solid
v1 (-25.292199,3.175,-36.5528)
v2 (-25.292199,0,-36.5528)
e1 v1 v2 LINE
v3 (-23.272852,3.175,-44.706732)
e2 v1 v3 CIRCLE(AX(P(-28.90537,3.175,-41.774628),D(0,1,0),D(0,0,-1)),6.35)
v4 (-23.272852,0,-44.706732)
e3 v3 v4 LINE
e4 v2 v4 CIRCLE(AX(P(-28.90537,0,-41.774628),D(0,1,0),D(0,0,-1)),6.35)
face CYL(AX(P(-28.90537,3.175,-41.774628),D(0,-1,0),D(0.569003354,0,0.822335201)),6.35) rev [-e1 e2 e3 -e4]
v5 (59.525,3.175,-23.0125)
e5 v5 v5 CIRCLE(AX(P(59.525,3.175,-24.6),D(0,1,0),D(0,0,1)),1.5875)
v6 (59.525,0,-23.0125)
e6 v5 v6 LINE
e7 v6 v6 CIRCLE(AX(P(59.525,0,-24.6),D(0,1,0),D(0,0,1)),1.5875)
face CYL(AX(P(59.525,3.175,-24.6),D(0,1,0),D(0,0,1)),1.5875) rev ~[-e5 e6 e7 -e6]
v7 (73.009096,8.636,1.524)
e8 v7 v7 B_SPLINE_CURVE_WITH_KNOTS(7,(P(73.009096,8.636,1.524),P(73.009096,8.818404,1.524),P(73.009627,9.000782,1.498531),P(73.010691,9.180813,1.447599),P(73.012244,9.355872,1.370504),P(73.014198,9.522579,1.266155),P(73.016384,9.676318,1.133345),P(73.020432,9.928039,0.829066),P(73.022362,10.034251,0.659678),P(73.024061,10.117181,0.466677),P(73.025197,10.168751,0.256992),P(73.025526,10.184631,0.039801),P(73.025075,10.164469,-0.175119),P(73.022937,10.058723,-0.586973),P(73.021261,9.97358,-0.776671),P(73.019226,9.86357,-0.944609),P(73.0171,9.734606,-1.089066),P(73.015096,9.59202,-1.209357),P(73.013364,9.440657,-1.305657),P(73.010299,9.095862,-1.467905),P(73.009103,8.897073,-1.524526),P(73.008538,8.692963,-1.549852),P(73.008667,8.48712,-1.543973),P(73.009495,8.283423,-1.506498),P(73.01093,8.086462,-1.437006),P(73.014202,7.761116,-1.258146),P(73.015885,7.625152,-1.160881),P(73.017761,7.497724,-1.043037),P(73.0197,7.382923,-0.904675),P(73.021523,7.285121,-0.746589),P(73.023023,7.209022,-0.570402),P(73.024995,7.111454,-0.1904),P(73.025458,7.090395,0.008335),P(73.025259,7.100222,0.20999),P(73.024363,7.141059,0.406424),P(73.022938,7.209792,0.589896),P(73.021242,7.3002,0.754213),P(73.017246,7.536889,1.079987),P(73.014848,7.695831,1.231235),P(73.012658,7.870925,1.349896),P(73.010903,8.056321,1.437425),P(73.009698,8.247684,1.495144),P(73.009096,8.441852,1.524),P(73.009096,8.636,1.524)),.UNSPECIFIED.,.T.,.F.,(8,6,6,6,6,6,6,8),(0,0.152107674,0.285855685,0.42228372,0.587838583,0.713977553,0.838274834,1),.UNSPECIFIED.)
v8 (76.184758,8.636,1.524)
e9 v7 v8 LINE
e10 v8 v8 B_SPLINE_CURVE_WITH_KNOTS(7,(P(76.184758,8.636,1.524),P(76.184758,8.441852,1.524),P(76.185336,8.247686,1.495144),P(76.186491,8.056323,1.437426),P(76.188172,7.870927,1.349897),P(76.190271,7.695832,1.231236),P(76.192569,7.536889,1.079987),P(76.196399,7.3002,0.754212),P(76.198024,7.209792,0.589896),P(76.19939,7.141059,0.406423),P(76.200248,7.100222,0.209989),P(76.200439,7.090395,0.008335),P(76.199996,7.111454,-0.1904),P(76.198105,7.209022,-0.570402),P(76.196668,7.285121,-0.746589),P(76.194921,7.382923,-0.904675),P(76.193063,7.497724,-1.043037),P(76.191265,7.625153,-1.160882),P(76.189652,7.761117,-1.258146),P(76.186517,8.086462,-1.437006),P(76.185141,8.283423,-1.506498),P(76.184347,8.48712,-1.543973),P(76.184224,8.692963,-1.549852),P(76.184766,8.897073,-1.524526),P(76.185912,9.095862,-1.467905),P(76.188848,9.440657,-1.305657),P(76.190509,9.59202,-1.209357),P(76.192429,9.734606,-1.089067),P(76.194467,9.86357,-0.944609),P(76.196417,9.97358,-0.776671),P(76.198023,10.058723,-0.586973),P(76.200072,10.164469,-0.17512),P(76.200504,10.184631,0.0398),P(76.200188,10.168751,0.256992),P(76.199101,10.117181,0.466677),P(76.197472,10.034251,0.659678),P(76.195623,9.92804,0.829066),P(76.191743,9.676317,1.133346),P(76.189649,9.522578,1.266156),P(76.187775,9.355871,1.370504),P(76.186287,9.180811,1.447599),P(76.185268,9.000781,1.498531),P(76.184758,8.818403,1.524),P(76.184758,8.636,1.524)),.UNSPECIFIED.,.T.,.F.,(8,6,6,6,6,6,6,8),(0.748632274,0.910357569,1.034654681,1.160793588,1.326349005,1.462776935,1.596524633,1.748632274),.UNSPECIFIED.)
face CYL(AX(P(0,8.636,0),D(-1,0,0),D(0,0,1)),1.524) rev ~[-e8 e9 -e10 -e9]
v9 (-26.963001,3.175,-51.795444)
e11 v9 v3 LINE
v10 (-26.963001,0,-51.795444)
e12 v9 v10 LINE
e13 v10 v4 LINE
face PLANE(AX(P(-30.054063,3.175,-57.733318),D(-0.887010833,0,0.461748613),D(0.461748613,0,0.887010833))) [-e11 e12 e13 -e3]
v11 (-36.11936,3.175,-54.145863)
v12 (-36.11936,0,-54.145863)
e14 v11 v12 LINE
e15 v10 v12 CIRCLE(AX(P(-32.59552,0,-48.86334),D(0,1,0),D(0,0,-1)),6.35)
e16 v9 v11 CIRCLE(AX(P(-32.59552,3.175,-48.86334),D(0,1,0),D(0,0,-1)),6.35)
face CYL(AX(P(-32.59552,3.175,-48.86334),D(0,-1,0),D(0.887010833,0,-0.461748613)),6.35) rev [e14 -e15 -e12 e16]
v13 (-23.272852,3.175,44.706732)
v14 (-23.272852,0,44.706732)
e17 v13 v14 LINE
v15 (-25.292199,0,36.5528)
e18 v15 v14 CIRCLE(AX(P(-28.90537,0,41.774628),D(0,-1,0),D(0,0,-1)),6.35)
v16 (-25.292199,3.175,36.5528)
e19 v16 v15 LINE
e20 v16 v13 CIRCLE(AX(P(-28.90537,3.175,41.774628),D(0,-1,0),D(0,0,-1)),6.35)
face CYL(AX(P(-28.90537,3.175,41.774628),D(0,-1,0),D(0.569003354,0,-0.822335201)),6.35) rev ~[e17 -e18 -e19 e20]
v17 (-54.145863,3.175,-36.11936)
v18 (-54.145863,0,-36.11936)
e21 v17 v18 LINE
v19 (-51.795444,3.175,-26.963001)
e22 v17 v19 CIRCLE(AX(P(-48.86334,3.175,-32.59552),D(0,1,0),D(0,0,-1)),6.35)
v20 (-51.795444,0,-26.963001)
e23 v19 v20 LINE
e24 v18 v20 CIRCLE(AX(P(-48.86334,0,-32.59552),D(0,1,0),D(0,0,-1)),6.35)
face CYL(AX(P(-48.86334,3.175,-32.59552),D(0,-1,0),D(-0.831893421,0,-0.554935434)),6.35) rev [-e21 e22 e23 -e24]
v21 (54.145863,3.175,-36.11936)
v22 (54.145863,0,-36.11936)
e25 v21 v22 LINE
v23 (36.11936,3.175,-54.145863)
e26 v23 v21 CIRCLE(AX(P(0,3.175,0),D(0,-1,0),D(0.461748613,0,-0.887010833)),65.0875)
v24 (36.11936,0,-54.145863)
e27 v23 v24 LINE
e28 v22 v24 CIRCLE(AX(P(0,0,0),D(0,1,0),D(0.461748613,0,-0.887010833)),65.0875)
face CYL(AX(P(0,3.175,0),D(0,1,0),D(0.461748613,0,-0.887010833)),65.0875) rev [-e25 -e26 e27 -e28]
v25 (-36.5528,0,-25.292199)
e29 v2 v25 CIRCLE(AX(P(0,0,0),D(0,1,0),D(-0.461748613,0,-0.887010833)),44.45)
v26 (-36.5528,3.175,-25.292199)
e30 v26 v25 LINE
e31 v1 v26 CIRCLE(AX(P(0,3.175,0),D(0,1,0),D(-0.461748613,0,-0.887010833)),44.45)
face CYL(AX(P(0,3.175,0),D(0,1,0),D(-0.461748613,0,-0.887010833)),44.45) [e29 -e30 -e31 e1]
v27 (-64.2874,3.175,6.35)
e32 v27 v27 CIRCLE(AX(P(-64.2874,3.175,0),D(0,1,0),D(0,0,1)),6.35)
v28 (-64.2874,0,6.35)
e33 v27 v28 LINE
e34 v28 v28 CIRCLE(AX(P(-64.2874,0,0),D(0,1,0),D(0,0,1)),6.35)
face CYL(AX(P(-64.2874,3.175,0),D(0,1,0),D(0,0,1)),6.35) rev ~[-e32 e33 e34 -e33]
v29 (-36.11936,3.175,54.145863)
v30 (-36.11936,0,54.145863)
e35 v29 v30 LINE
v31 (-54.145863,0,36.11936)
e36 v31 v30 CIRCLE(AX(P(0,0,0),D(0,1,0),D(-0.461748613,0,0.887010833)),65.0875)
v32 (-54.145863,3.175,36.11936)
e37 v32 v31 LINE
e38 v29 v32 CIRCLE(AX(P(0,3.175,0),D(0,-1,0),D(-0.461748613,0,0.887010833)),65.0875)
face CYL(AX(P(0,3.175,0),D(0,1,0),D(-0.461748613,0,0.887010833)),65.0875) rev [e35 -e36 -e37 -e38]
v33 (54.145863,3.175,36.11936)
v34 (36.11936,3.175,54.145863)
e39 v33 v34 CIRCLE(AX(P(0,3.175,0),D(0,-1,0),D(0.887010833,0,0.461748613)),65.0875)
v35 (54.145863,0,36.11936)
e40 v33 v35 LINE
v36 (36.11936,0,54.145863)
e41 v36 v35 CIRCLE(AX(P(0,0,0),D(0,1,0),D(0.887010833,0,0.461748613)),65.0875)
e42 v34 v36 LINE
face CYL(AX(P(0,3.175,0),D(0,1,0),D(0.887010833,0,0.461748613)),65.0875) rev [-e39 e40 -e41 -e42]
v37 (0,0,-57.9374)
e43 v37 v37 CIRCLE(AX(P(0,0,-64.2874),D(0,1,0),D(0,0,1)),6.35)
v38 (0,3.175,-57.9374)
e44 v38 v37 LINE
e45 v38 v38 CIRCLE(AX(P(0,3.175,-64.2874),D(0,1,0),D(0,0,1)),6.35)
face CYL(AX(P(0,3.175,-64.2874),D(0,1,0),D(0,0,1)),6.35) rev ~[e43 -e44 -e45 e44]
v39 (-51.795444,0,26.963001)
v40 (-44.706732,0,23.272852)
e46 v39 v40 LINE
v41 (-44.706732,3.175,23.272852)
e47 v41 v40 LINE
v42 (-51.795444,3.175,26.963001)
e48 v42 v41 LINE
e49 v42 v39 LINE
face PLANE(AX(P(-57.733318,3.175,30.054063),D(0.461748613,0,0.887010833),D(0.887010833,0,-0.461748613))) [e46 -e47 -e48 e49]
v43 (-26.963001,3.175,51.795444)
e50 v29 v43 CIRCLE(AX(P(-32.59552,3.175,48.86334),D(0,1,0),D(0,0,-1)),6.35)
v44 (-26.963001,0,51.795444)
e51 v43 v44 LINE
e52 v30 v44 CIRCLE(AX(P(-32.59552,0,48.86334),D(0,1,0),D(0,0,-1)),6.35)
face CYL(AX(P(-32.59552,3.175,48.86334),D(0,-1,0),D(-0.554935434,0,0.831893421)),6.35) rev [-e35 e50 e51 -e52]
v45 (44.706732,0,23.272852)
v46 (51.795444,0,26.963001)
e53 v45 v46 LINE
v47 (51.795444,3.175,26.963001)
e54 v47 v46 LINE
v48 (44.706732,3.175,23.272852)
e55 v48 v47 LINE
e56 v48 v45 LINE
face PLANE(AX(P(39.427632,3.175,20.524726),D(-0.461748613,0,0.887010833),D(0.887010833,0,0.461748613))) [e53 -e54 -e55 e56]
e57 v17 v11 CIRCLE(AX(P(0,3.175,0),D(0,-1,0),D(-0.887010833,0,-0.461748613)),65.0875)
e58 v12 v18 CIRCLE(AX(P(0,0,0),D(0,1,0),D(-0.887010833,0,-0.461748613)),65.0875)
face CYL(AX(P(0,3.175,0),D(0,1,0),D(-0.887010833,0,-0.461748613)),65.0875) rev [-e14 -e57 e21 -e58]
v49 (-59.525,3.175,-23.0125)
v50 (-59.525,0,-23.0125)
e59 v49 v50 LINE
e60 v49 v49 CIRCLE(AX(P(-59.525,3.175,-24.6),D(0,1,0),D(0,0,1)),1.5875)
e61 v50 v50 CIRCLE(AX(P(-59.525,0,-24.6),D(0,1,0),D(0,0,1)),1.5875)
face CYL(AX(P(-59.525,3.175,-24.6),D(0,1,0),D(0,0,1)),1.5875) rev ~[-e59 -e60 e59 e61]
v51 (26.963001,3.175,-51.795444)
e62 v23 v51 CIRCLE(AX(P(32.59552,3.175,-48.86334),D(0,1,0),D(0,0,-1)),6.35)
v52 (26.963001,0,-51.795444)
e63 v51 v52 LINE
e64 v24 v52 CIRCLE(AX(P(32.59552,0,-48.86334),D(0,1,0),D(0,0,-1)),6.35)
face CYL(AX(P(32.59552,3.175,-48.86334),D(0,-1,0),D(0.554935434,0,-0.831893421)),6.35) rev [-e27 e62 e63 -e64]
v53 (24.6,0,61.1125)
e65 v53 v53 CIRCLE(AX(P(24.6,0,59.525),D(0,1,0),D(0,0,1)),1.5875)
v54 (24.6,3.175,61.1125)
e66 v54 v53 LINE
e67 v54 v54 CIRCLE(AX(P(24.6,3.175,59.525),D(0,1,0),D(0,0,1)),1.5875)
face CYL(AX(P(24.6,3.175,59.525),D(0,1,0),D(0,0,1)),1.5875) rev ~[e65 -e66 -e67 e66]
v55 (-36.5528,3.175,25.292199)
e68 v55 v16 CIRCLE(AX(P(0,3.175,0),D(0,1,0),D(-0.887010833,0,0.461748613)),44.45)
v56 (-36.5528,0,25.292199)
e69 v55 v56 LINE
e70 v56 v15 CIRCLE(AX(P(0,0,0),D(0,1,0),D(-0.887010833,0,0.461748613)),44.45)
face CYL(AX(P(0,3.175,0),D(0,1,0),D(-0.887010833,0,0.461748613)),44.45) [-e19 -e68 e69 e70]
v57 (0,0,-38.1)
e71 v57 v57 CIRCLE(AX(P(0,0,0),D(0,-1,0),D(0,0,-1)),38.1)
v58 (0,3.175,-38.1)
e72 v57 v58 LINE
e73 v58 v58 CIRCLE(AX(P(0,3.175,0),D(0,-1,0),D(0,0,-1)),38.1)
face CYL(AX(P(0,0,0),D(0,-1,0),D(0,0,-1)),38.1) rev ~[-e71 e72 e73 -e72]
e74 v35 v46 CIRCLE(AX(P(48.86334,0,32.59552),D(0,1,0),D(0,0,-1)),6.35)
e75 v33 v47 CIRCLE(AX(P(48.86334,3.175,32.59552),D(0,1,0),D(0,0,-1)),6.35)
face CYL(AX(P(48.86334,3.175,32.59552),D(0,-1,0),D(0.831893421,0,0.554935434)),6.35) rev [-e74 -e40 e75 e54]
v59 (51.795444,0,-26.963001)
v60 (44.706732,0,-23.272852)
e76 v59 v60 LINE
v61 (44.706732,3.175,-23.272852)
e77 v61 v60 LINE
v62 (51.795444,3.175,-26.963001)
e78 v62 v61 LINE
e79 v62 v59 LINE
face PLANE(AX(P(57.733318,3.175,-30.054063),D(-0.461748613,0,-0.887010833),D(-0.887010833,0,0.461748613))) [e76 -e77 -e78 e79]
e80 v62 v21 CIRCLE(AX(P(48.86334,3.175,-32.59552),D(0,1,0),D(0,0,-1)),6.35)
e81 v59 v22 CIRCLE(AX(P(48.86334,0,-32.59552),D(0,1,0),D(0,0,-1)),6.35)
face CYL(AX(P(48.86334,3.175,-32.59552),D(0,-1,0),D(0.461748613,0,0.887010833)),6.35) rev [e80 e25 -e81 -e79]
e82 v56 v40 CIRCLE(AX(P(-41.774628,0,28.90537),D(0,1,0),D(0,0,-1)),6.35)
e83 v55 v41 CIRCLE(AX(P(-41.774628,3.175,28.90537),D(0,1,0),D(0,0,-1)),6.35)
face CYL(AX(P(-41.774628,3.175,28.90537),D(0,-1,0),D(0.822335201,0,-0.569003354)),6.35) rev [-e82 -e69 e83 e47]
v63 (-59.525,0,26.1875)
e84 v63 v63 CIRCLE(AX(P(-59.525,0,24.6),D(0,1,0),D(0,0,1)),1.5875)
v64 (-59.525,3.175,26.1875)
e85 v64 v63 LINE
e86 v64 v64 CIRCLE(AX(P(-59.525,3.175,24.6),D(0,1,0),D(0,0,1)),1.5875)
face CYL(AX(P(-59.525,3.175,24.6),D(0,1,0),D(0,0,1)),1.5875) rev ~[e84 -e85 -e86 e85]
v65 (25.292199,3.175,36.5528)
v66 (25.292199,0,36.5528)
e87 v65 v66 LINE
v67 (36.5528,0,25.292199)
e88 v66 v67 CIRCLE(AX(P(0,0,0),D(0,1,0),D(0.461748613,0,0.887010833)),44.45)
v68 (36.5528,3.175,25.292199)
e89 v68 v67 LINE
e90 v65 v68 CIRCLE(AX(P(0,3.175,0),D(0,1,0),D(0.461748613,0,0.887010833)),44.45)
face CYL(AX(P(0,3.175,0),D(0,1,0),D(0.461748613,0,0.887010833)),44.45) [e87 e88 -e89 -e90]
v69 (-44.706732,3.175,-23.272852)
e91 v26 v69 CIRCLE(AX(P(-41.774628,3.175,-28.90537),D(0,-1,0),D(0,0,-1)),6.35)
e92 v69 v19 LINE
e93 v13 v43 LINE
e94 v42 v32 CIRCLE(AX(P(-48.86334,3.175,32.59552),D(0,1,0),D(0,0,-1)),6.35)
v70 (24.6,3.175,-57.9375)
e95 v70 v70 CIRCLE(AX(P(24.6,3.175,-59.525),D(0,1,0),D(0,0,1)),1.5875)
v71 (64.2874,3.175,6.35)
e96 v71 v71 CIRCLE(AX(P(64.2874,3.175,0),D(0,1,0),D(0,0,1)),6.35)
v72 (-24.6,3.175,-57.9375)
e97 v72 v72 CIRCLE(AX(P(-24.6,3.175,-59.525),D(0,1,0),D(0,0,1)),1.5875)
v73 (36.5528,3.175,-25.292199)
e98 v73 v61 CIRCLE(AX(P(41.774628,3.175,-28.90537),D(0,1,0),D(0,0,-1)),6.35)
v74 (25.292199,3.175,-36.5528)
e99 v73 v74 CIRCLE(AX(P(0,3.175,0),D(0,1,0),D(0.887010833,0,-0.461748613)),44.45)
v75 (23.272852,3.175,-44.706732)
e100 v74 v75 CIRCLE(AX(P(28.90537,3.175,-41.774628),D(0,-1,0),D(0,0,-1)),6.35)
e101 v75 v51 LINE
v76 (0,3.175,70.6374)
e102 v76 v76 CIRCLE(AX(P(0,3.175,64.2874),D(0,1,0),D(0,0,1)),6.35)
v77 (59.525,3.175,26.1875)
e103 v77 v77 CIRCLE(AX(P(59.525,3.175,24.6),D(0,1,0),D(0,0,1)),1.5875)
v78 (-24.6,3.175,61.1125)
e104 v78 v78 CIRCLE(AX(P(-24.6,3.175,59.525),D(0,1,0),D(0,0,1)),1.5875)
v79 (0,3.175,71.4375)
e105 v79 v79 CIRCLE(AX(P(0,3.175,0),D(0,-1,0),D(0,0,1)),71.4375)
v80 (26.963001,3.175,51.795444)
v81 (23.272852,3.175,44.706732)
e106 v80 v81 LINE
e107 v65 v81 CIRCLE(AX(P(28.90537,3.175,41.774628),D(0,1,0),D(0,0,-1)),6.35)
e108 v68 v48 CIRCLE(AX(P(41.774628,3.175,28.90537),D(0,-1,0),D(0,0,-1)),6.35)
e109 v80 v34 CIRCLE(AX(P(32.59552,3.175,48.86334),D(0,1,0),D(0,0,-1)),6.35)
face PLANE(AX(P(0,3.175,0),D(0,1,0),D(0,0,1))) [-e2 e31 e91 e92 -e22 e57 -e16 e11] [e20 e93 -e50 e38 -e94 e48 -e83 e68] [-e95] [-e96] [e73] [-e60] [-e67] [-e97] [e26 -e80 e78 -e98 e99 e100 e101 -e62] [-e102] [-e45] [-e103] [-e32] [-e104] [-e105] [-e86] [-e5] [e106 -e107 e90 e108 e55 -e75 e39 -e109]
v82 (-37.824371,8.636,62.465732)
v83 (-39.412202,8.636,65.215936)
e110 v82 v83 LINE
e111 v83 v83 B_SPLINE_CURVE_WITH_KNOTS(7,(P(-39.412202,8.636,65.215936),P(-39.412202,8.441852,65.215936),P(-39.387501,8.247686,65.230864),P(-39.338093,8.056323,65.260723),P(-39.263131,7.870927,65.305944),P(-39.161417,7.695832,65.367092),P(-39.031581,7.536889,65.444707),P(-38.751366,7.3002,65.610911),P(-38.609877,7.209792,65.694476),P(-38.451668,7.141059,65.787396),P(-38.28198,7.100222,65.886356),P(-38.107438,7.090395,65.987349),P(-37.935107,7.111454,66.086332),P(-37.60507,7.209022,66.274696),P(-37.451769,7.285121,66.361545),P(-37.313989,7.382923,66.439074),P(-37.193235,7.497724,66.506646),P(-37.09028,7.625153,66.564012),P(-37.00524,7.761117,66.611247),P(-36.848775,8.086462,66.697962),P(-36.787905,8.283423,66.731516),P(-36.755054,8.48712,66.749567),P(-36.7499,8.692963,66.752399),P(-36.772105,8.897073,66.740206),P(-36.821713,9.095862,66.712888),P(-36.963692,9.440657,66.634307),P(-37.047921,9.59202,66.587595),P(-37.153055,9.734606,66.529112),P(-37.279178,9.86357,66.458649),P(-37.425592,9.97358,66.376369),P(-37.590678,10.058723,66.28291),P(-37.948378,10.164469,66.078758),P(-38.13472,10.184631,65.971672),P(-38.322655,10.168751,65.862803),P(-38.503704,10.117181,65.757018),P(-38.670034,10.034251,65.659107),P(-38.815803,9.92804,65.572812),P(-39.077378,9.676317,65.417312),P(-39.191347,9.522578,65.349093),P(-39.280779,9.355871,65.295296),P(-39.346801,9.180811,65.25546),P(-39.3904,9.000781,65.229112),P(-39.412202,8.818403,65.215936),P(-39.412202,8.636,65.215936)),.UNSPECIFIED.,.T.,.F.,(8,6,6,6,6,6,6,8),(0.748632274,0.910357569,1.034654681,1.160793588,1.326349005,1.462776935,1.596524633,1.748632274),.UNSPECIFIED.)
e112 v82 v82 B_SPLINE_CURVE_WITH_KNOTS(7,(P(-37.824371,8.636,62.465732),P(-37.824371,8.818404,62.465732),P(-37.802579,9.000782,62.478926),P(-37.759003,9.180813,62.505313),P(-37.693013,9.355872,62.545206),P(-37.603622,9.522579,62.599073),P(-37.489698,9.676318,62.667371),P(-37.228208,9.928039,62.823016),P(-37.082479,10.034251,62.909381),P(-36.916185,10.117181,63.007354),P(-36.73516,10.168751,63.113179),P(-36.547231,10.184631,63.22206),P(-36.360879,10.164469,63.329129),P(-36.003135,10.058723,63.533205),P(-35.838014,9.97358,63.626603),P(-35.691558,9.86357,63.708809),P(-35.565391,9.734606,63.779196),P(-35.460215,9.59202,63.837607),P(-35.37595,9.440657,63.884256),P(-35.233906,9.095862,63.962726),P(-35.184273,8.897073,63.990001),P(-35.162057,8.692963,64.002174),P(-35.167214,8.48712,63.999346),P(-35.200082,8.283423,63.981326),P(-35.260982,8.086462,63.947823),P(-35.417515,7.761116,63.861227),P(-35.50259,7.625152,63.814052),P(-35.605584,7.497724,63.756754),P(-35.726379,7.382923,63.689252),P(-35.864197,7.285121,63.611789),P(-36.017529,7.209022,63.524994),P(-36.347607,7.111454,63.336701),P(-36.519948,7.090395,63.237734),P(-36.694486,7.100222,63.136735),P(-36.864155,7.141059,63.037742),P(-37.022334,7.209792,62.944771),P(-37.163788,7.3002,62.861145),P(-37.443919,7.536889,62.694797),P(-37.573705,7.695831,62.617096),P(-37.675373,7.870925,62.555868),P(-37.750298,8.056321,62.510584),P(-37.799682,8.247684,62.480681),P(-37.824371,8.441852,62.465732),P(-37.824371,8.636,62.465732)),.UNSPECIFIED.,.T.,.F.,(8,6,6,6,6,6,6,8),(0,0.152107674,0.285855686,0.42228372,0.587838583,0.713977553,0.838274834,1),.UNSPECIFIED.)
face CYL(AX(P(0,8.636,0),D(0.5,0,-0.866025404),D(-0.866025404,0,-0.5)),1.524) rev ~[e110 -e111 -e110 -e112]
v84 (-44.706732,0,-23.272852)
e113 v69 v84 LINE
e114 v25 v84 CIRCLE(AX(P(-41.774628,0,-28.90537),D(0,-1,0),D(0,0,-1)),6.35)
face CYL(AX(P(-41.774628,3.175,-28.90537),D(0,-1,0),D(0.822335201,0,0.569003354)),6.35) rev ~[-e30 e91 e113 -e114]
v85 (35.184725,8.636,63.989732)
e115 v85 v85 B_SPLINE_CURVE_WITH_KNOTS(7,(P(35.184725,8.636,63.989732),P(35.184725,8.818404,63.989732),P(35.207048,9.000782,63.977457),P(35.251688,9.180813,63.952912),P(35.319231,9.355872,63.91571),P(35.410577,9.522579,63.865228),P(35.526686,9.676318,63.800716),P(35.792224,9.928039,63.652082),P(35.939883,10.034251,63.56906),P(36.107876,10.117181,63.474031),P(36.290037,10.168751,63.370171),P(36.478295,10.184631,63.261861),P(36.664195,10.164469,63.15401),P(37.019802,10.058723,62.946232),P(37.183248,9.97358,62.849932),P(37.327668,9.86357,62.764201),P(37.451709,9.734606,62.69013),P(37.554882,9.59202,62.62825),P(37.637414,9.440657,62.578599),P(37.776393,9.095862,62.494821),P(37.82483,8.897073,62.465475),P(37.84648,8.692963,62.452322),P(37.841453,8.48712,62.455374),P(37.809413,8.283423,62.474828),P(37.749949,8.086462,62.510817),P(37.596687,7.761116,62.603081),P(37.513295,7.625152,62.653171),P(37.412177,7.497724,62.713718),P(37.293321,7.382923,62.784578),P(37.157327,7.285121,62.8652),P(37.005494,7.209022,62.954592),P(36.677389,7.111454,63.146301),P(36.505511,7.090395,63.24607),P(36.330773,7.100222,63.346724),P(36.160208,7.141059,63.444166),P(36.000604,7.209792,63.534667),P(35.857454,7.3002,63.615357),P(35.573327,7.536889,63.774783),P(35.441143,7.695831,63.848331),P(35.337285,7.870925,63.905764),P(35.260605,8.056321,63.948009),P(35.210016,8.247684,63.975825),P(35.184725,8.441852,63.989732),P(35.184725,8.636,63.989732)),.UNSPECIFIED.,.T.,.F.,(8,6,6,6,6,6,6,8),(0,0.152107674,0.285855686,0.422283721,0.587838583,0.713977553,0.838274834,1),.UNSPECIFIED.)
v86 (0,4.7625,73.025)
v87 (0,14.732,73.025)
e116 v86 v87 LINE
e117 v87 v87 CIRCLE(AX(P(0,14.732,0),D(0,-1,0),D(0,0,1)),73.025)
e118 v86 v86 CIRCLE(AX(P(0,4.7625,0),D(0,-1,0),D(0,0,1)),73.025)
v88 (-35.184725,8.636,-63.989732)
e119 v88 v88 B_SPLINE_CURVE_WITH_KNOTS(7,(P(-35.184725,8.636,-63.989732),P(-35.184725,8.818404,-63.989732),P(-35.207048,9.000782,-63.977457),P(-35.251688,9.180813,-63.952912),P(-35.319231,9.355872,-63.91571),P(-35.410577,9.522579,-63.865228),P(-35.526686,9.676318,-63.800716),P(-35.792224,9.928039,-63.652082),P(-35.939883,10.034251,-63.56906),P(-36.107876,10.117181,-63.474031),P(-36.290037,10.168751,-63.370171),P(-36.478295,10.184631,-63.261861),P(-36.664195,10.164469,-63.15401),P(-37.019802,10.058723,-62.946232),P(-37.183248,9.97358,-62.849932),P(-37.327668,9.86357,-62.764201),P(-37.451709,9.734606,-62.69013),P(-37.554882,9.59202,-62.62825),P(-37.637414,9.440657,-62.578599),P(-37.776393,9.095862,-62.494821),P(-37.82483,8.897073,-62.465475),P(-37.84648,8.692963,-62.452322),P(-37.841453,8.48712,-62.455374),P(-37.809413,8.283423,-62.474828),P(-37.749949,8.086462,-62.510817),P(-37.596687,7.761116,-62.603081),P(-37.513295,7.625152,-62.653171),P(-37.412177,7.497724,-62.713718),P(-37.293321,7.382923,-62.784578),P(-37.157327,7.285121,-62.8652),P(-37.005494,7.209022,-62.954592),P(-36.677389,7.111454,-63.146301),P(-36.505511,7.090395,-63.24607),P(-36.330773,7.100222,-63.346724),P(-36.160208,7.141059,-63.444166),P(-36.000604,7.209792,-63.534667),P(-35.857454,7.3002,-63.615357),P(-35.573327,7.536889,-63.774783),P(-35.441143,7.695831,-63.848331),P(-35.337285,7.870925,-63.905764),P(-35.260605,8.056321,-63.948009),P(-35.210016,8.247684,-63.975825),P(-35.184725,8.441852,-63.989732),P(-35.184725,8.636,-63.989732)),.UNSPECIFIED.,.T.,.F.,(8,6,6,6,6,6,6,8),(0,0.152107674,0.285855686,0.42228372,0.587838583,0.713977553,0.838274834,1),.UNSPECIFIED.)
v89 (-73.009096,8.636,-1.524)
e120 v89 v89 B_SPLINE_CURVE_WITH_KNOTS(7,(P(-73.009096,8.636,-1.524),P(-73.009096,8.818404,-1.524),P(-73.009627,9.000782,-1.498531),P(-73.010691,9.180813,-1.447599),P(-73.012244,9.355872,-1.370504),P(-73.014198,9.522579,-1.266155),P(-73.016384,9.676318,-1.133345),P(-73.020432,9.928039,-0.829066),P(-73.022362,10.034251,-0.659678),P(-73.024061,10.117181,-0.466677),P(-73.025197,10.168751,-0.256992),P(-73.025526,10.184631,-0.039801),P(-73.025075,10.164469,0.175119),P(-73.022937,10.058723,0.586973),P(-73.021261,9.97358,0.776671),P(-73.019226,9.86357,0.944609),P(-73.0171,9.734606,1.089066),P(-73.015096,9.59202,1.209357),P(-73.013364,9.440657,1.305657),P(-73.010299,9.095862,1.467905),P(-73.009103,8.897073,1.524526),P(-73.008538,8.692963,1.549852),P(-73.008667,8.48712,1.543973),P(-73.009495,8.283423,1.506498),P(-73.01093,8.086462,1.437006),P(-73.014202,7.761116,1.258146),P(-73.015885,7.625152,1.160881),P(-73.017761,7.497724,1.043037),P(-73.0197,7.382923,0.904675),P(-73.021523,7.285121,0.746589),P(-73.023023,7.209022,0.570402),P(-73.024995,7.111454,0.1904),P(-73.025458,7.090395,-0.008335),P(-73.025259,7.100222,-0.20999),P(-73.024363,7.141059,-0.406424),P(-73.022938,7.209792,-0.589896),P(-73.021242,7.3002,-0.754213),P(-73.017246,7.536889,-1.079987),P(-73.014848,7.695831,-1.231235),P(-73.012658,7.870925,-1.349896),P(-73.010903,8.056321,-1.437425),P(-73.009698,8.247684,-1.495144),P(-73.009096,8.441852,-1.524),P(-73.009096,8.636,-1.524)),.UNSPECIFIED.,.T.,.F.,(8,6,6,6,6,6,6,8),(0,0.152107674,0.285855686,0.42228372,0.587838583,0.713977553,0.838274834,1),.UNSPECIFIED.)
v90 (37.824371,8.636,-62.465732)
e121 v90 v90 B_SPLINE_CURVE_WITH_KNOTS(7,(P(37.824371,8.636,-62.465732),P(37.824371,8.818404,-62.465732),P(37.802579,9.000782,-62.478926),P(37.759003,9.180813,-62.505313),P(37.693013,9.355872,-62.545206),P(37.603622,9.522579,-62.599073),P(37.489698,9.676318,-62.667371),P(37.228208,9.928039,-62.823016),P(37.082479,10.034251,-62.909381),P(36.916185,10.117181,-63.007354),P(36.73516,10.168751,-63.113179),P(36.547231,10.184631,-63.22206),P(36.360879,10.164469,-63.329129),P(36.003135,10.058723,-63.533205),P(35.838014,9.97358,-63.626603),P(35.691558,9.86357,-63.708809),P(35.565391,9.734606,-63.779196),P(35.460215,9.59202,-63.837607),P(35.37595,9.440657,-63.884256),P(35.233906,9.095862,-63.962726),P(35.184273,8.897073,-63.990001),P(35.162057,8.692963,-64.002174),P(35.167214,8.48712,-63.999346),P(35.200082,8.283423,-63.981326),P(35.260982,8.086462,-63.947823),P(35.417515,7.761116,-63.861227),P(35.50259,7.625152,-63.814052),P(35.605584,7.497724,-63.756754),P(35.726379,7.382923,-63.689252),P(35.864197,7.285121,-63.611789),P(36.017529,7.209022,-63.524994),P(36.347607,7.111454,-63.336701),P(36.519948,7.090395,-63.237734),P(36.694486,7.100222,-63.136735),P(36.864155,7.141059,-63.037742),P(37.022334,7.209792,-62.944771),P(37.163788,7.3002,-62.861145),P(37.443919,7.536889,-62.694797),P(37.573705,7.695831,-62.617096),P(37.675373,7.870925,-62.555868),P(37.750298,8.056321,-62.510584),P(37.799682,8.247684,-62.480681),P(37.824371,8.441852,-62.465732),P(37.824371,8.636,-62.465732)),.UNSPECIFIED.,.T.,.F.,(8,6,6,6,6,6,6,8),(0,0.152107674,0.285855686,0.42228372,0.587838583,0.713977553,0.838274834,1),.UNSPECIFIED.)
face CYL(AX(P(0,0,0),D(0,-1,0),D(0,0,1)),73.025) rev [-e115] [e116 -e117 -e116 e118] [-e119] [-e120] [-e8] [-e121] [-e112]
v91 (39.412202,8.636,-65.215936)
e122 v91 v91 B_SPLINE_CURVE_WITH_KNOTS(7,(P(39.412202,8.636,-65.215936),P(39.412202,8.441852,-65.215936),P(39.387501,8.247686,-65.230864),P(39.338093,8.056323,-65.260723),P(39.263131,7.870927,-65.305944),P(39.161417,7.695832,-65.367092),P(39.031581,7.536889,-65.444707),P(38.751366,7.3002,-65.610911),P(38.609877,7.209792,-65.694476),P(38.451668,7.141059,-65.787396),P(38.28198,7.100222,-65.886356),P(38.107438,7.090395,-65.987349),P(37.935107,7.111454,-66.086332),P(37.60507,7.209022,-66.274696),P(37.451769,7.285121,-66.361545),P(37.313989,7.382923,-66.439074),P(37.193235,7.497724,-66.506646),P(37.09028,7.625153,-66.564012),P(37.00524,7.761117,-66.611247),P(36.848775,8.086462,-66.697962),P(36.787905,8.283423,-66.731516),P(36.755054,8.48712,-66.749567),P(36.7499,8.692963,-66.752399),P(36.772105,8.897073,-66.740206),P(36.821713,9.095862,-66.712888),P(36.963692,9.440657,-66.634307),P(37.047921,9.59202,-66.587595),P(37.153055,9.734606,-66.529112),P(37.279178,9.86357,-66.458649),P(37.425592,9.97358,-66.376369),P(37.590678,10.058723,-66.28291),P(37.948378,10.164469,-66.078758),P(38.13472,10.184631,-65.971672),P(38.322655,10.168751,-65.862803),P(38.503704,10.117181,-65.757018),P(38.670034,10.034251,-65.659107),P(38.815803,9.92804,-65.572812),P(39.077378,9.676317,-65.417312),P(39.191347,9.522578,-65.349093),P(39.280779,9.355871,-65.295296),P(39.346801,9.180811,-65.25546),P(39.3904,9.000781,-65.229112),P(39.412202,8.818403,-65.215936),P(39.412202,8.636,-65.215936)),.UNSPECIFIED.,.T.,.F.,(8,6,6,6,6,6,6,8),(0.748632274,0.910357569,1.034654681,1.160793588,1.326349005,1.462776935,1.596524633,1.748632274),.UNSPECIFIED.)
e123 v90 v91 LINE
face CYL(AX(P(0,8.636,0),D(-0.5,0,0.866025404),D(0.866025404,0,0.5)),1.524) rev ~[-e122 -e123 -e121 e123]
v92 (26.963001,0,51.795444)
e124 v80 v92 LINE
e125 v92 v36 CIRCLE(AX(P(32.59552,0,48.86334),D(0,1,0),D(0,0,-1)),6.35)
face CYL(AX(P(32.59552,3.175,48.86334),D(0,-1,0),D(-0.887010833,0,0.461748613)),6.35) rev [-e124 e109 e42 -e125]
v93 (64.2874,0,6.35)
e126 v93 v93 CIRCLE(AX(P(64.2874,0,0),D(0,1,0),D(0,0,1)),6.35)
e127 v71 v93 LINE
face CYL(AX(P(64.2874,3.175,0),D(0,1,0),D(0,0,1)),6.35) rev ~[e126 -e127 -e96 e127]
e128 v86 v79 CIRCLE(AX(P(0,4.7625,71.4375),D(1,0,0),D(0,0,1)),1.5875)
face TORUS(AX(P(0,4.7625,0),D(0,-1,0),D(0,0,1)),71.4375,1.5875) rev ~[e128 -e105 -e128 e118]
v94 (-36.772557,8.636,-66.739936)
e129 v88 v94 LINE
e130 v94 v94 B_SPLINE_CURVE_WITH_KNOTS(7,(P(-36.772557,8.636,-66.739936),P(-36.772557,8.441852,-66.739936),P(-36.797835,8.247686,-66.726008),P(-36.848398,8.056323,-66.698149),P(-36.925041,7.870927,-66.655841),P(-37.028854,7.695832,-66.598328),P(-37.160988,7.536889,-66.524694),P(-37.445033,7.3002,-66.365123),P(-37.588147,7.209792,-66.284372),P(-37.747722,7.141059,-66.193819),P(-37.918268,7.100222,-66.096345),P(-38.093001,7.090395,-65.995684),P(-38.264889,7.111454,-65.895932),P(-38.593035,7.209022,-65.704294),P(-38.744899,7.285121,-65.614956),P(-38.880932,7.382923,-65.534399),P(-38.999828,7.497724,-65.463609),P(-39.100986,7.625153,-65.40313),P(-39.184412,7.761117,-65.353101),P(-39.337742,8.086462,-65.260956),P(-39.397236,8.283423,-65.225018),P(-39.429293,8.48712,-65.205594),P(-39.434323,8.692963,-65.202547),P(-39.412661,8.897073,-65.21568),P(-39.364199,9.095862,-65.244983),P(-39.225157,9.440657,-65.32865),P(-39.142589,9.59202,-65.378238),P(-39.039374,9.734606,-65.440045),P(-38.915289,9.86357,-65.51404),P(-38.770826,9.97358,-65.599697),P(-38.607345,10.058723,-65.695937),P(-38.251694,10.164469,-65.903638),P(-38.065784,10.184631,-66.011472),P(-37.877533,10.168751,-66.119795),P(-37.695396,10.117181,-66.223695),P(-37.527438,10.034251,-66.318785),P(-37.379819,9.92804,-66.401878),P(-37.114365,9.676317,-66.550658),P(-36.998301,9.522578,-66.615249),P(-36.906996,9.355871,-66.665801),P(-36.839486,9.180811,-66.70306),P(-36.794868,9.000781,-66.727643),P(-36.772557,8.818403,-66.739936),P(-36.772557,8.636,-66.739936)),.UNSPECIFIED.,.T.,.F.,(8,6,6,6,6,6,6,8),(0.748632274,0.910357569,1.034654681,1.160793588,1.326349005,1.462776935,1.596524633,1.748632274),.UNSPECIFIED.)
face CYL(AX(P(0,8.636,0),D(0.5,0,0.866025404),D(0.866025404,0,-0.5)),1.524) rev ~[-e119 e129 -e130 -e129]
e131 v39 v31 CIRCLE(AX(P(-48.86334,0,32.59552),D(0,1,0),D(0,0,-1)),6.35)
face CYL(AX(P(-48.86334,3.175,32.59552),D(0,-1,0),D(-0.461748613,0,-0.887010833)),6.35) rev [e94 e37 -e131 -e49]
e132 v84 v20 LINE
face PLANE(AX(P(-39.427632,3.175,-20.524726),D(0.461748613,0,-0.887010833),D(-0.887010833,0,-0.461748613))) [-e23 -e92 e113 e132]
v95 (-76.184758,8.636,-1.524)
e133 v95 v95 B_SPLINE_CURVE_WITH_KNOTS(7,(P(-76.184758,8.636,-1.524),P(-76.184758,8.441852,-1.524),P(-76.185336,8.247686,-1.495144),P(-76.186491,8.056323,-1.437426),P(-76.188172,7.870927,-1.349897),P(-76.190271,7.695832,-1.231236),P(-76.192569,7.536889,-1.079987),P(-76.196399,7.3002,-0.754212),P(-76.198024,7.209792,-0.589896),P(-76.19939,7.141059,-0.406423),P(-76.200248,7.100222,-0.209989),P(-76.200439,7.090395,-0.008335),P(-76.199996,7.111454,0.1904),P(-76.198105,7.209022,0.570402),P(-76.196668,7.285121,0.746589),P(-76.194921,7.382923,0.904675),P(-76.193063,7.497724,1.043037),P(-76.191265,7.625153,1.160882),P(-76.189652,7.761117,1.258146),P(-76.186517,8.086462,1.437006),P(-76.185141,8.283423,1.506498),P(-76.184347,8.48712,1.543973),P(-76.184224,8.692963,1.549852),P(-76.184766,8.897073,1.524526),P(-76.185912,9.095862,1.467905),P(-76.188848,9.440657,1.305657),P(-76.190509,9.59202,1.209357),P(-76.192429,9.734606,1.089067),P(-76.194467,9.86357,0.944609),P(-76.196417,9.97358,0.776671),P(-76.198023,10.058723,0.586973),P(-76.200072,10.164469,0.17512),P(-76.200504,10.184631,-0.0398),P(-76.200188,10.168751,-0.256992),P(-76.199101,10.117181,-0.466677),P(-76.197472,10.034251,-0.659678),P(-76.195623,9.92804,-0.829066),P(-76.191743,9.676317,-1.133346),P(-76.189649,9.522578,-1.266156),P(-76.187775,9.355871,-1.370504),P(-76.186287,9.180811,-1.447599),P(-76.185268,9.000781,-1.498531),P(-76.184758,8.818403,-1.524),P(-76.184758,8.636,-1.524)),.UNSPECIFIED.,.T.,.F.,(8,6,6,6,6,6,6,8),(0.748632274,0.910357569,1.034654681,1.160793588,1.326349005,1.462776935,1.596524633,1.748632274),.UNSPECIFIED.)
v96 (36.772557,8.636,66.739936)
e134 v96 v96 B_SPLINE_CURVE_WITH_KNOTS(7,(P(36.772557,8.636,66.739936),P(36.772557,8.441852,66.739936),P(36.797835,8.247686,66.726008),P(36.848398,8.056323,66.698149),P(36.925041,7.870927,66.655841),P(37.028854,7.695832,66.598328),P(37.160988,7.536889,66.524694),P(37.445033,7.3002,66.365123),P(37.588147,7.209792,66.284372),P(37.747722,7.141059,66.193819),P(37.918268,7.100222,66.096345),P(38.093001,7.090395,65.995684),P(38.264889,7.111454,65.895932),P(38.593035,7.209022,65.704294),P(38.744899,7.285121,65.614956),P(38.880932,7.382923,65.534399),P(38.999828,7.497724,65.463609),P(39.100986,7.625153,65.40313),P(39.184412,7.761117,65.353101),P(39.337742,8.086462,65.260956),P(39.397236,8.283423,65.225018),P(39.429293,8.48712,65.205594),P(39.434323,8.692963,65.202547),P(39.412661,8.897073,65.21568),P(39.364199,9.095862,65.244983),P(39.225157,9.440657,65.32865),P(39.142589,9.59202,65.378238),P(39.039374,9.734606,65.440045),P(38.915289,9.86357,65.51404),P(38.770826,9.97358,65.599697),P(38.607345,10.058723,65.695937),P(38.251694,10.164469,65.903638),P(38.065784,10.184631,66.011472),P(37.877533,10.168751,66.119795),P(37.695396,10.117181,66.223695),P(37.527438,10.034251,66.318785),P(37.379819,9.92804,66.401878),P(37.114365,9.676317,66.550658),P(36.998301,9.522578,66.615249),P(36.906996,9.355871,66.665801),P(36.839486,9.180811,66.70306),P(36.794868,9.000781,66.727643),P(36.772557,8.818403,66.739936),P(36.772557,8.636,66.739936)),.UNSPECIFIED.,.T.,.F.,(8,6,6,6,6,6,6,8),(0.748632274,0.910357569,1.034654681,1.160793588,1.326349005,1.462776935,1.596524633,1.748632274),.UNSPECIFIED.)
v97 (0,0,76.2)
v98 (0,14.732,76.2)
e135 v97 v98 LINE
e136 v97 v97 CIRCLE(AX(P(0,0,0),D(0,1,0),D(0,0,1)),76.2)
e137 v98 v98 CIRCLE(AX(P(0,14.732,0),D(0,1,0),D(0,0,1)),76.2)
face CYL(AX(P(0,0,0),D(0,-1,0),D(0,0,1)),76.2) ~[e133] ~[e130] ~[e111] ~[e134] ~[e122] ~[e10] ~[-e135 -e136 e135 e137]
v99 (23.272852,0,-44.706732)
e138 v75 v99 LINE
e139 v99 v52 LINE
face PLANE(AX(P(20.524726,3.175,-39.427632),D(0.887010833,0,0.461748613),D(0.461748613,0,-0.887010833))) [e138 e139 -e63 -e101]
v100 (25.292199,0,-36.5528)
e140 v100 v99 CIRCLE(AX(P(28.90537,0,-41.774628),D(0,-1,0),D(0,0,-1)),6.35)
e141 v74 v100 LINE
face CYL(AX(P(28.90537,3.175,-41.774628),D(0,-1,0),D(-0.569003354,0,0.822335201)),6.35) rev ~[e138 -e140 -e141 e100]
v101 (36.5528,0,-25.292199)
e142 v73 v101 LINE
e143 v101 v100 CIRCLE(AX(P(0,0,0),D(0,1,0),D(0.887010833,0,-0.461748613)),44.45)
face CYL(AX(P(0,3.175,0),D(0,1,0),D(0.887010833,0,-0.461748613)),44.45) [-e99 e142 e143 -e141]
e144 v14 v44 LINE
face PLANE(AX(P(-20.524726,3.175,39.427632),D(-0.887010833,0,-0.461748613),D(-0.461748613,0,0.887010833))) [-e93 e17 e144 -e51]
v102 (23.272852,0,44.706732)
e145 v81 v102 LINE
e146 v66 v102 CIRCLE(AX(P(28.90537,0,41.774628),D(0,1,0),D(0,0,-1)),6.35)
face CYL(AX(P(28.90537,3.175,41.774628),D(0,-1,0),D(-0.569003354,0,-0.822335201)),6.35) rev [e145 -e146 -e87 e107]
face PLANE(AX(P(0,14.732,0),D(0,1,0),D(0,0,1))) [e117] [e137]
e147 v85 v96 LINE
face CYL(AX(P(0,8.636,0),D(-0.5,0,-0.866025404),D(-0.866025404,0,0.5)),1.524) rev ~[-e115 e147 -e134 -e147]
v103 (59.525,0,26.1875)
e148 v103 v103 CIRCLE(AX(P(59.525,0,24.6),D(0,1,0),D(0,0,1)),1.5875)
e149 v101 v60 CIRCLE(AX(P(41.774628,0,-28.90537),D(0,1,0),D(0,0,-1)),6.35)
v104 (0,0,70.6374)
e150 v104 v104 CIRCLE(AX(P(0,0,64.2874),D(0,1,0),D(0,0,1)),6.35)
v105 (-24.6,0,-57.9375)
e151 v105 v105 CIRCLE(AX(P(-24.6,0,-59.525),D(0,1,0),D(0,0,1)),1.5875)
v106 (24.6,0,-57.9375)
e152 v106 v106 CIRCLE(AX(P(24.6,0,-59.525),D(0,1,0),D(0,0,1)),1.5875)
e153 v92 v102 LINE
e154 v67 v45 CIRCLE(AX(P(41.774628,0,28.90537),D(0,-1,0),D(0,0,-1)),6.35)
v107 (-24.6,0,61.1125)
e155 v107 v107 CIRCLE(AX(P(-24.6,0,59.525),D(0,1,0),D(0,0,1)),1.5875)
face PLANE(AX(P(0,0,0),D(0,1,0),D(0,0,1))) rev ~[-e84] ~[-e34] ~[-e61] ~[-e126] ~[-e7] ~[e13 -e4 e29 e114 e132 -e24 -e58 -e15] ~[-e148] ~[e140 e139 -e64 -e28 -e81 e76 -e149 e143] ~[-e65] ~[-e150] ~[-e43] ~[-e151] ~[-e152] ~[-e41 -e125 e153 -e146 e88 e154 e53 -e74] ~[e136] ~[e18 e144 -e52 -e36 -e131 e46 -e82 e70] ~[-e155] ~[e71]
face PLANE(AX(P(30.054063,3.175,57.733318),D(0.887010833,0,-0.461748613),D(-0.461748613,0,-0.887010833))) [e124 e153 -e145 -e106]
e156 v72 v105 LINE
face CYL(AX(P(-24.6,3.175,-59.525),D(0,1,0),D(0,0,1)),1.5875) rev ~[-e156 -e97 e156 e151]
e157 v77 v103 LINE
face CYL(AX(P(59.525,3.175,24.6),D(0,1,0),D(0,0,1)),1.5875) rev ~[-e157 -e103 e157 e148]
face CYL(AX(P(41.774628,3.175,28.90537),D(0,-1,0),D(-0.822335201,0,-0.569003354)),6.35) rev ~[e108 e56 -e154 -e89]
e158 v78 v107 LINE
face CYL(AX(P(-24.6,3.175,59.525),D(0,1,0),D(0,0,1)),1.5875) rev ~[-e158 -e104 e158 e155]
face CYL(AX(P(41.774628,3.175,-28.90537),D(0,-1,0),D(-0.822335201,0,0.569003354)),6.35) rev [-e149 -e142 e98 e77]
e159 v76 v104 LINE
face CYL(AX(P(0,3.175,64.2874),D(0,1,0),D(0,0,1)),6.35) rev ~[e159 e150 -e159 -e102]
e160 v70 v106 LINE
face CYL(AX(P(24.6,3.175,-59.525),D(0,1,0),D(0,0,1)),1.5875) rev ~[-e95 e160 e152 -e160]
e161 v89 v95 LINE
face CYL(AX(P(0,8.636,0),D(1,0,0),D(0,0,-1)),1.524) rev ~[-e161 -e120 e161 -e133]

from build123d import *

# Parameters (mm, degrees)
SKETCH1_R           = 76.2
BOSS_EXTRUDE1_DEPTH = 16.256
SHELL1_T            = -3.175
FILLET1_R           = 1.5875
SKETCH2_R           = 38.1
CUT_EXTRUDE1_DEPTH  = 16.256
SKETCH3_R           = 1.524
CUT_EXTRUDE2_DEPTH  = 76.2
CIRPATTERN1_COUNT   = 6
CUT_EXTRUDE4_START  = -1.524
SKETCH5_R           = 76.2
CUT_EXTRUDE4_DEPTH  = 1.524
SKETCH6_R           = 6.35
CUT_EXTRUDE5_DEPTH  = 12.7
SKETCH7_R           = 1.5875
CUT_EXTRUDE6_DEPTH  = 6.35
SKETCH8_R           = 6.35
CUT_EXTRUDE7_DEPTH  = 6.35
CUT_EXTRUDE8_DEPTH  = 6.35
FILLET2_R           = 6.35


with BuildPart() as part:
    # Sketch1 → Boss-Extrude1 (new body)
    with BuildSketch(Plane(origin=(0, 0, 0), x_dir=(1, 0, 0), z_dir=(0, 1, 0))):
        with Locations(Location((0, 0, 0), (0, 0, 270))):
            Circle(SKETCH1_R)
    extrude(amount=BOSS_EXTRUDE1_DEPTH)

    # Shell1
    shell1_openings = [part.faces().sort_by_distance(p)[0] for p in [
        (0, 16.256, 0),
    ]]
    offset(amount=SHELL1_T, openings=shell1_openings, kind=Kind.INTERSECTION)

    # Fillet1
    fillet1_edges = [part.edges().sort_by_distance(p)[0] for p in [
        (0, 3.175, -73.025),
    ]]
    fillet(fillet1_edges, radius=FILLET1_R)

    # Sketch2 → Cut-Extrude1 (cut)
    with BuildSketch(Plane.XZ):
        with Locations(Location((0, 0, 0), (0, 0, 270))):
            Circle(SKETCH2_R)
    extrude(amount=-CUT_EXTRUDE1_DEPTH, mode=Mode.SUBTRACT)

    # Sketch3 → Cut-Extrude2 (cut)
    with BuildSketch(Plane(origin=(0, 0, 0), x_dir=(0, 0, -1), z_dir=(1, 0, 0))):
        with Locations((0, 8.636)):
            Circle(SKETCH3_R)
    cut_extrude2 = extrude(amount=-CUT_EXTRUDE2_DEPTH, mode=Mode.SUBTRACT)

    # CirPattern1: Cut-Extrude2 ×6 about axis
    cirpattern1_axis = Axis((0, 16.256, 0), (0, -1, 0))
    for i in range(1, CIRPATTERN1_COUNT):
        add(cut_extrude2.rotate(cirpattern1_axis, i * 360 / CIRPATTERN1_COUNT), mode=Mode.SUBTRACT)

    # Sketch5 → Cut-Extrude4 (cut)
    with BuildSketch(Plane(origin=(0, 16.256, 0), x_dir=(1, 0, 0), z_dir=(0, 1, 0)).offset(CUT_EXTRUDE4_START)):
        with Locations(Location((0, 0, 0), (0, 0, 270))):
            Circle(SKETCH5_R)
    extrude(amount=CUT_EXTRUDE4_DEPTH, mode=Mode.SUBTRACT)

    # Sketch6 → Cut-Extrude5 (cut)
    with BuildSketch(Plane(origin=(0, 3.175, 0), x_dir=(1, 0, 0), z_dir=(0, 1, 0))):
        with Locations(Location((0, 64.2874, 0), (0, 0, 270))):
            Circle(SKETCH6_R)
        with Locations(Location((0, -64.2874, 0), (0, 0, 270))):
            Circle(SKETCH6_R)
    extrude(amount=-CUT_EXTRUDE5_DEPTH, mode=Mode.SUBTRACT)

    # Sketch7 → Cut-Extrude6 (cut)
    with BuildSketch(Plane(origin=(0, 3.175, 0), x_dir=(1, 0, 0), z_dir=(0, 1, 0))):
        with Locations(Location((-24.6, 59.525, 0), (0, 0, 270))):
            Circle(SKETCH7_R)
        with Locations(Location((24.6, 59.525, 0), (0, 0, 270))):
            Circle(SKETCH7_R)
        with Locations(Location((24.6, -59.525, 0), (0, 0, 270))):
            Circle(SKETCH7_R)
        with Locations(Location((-24.6, -59.525, 0), (0, 0, 270))):
            Circle(SKETCH7_R)
        with Locations(Location((-59.525, -24.6, 0), (0, 0, 270))):
            Circle(SKETCH7_R)
        with Locations(Location((-59.525, 24.6, 0), (0, 0, 270))):
            Circle(SKETCH7_R)
        with Locations(Location((59.525, 24.6, 0), (0, 0, 270))):
            Circle(SKETCH7_R)
        with Locations(Location((59.525, -24.6, 0), (0, 0, 270))):
            Circle(SKETCH7_R)
    extrude(amount=-CUT_EXTRUDE6_DEPTH, mode=Mode.SUBTRACT)

    # Sketch8 → Cut-Extrude7 (cut)
    with BuildSketch(Plane(origin=(0, 3.175, 0), x_dir=(1, 0, 0), z_dir=(0, 1, 0))):
        with Locations(Location((0, 64.2874, 0), (0, 0, 270))):
            Circle(SKETCH8_R)
        with Locations(Location((0, -64.2874, 0), (0, 0, 270))):
            Circle(SKETCH8_R)
        with Locations(Location((64.2874, 0, 0), (0, 0, 270))):
            Circle(SKETCH8_R)
        with Locations(Location((-64.2874, 0, 0), (0, 0, 270))):
            Circle(SKETCH8_R)
    extrude(amount=-CUT_EXTRUDE7_DEPTH, mode=Mode.SUBTRACT)

    # Sketch9 → Cut-Extrude8 (cut)
    with BuildSketch(Plane(origin=(0, 3.175, 0), x_dir=(1, 0, 0), z_dir=(0, 1, 0))):
        with BuildLine():
            Line((-39.427631535, 20.524725858), (-57.733317604, 30.054062864))
            ThreePointArc((-57.733317604, 30.054062864), (-46.02381262, 46.02381262), (-30.054062864, 57.733317604))
            Line((-30.054062864, 57.733317604), (-20.524725858, 39.427631535))
            ThreePointArc((-20.524725858, 39.427631535), (-31.430896424, 31.430896424), (-39.427631535, 20.524725858))
        make_face()
        with BuildLine():
            Line((-20.524725858, -39.427631535), (-30.054062864, -57.733317604))
            ThreePointArc((-30.054062864, -57.733317604), (-46.02381262, -46.02381262), (-57.733317604, -30.054062864))
            Line((-57.733317604, -30.054062864), (-39.427631535, -20.524725858))
            ThreePointArc((-39.427631535, -20.524725858), (-31.430896424, -31.430896424), (-20.524725858, -39.427631535))
        make_face()
        with BuildLine():
            Line((39.427631535, -20.524725858), (57.733317604, -30.054062864))
            ThreePointArc((57.733317604, -30.054062864), (46.02381262, -46.02381262), (30.054062864, -57.733317604))
            Line((30.054062864, -57.733317604), (20.524725858, -39.427631535))
            ThreePointArc((20.524725858, -39.427631535), (31.430896424, -31.430896424), (39.427631535, -20.524725858))
        make_face()
        with BuildLine():
            Line((20.524725858, 39.427631535), (30.054062864, 57.733317604))
            ThreePointArc((30.054062864, 57.733317604), (46.02381262, 46.02381262), (57.733317604, 30.054062864))
            Line((57.733317604, 30.054062864), (39.427631535, 20.524725858))
            ThreePointArc((39.427631535, 20.524725858), (31.430896424, 31.430896424), (20.524725858, 39.427631535))
        make_face()
    extrude(amount=-CUT_EXTRUDE8_DEPTH, mode=Mode.SUBTRACT)

    # Fillet2
    fillet2_edges = [part.edges().sort_by_distance(p)[0] for p in [
        (-30.054062864, 1.5875, 57.733317604),
        (-57.733317604, 1.5875, 30.054062864),
        (-39.427631535, 1.5875, 20.524725858),
        (-20.524725858, 1.5875, 39.427631535),
        (-57.733317604, 1.5875, -30.054062864),
        (-30.054062864, 1.5875, -57.733317604),
        (-20.524725858, 1.5875, -39.427631535),
        (-39.427631535, 1.5875, -20.524725858),
        (20.524725858, 1.5875, 39.427631535),
        (39.427631535, 1.5875, 20.524725858),
        (57.733317604, 1.5875, 30.054062864),
        (30.054062864, 1.5875, 57.733317604),
        (30.054062864, 1.5875, -57.733317604),
        (57.733317604, 1.5875, -30.054062864),
        (39.427631535, 1.5875, -20.524725858),
        (20.524725858, 1.5875, -39.427631535),
    ]]
    fillet(fillet2_edges, radius=FILLET2_R)


solid = part.part
